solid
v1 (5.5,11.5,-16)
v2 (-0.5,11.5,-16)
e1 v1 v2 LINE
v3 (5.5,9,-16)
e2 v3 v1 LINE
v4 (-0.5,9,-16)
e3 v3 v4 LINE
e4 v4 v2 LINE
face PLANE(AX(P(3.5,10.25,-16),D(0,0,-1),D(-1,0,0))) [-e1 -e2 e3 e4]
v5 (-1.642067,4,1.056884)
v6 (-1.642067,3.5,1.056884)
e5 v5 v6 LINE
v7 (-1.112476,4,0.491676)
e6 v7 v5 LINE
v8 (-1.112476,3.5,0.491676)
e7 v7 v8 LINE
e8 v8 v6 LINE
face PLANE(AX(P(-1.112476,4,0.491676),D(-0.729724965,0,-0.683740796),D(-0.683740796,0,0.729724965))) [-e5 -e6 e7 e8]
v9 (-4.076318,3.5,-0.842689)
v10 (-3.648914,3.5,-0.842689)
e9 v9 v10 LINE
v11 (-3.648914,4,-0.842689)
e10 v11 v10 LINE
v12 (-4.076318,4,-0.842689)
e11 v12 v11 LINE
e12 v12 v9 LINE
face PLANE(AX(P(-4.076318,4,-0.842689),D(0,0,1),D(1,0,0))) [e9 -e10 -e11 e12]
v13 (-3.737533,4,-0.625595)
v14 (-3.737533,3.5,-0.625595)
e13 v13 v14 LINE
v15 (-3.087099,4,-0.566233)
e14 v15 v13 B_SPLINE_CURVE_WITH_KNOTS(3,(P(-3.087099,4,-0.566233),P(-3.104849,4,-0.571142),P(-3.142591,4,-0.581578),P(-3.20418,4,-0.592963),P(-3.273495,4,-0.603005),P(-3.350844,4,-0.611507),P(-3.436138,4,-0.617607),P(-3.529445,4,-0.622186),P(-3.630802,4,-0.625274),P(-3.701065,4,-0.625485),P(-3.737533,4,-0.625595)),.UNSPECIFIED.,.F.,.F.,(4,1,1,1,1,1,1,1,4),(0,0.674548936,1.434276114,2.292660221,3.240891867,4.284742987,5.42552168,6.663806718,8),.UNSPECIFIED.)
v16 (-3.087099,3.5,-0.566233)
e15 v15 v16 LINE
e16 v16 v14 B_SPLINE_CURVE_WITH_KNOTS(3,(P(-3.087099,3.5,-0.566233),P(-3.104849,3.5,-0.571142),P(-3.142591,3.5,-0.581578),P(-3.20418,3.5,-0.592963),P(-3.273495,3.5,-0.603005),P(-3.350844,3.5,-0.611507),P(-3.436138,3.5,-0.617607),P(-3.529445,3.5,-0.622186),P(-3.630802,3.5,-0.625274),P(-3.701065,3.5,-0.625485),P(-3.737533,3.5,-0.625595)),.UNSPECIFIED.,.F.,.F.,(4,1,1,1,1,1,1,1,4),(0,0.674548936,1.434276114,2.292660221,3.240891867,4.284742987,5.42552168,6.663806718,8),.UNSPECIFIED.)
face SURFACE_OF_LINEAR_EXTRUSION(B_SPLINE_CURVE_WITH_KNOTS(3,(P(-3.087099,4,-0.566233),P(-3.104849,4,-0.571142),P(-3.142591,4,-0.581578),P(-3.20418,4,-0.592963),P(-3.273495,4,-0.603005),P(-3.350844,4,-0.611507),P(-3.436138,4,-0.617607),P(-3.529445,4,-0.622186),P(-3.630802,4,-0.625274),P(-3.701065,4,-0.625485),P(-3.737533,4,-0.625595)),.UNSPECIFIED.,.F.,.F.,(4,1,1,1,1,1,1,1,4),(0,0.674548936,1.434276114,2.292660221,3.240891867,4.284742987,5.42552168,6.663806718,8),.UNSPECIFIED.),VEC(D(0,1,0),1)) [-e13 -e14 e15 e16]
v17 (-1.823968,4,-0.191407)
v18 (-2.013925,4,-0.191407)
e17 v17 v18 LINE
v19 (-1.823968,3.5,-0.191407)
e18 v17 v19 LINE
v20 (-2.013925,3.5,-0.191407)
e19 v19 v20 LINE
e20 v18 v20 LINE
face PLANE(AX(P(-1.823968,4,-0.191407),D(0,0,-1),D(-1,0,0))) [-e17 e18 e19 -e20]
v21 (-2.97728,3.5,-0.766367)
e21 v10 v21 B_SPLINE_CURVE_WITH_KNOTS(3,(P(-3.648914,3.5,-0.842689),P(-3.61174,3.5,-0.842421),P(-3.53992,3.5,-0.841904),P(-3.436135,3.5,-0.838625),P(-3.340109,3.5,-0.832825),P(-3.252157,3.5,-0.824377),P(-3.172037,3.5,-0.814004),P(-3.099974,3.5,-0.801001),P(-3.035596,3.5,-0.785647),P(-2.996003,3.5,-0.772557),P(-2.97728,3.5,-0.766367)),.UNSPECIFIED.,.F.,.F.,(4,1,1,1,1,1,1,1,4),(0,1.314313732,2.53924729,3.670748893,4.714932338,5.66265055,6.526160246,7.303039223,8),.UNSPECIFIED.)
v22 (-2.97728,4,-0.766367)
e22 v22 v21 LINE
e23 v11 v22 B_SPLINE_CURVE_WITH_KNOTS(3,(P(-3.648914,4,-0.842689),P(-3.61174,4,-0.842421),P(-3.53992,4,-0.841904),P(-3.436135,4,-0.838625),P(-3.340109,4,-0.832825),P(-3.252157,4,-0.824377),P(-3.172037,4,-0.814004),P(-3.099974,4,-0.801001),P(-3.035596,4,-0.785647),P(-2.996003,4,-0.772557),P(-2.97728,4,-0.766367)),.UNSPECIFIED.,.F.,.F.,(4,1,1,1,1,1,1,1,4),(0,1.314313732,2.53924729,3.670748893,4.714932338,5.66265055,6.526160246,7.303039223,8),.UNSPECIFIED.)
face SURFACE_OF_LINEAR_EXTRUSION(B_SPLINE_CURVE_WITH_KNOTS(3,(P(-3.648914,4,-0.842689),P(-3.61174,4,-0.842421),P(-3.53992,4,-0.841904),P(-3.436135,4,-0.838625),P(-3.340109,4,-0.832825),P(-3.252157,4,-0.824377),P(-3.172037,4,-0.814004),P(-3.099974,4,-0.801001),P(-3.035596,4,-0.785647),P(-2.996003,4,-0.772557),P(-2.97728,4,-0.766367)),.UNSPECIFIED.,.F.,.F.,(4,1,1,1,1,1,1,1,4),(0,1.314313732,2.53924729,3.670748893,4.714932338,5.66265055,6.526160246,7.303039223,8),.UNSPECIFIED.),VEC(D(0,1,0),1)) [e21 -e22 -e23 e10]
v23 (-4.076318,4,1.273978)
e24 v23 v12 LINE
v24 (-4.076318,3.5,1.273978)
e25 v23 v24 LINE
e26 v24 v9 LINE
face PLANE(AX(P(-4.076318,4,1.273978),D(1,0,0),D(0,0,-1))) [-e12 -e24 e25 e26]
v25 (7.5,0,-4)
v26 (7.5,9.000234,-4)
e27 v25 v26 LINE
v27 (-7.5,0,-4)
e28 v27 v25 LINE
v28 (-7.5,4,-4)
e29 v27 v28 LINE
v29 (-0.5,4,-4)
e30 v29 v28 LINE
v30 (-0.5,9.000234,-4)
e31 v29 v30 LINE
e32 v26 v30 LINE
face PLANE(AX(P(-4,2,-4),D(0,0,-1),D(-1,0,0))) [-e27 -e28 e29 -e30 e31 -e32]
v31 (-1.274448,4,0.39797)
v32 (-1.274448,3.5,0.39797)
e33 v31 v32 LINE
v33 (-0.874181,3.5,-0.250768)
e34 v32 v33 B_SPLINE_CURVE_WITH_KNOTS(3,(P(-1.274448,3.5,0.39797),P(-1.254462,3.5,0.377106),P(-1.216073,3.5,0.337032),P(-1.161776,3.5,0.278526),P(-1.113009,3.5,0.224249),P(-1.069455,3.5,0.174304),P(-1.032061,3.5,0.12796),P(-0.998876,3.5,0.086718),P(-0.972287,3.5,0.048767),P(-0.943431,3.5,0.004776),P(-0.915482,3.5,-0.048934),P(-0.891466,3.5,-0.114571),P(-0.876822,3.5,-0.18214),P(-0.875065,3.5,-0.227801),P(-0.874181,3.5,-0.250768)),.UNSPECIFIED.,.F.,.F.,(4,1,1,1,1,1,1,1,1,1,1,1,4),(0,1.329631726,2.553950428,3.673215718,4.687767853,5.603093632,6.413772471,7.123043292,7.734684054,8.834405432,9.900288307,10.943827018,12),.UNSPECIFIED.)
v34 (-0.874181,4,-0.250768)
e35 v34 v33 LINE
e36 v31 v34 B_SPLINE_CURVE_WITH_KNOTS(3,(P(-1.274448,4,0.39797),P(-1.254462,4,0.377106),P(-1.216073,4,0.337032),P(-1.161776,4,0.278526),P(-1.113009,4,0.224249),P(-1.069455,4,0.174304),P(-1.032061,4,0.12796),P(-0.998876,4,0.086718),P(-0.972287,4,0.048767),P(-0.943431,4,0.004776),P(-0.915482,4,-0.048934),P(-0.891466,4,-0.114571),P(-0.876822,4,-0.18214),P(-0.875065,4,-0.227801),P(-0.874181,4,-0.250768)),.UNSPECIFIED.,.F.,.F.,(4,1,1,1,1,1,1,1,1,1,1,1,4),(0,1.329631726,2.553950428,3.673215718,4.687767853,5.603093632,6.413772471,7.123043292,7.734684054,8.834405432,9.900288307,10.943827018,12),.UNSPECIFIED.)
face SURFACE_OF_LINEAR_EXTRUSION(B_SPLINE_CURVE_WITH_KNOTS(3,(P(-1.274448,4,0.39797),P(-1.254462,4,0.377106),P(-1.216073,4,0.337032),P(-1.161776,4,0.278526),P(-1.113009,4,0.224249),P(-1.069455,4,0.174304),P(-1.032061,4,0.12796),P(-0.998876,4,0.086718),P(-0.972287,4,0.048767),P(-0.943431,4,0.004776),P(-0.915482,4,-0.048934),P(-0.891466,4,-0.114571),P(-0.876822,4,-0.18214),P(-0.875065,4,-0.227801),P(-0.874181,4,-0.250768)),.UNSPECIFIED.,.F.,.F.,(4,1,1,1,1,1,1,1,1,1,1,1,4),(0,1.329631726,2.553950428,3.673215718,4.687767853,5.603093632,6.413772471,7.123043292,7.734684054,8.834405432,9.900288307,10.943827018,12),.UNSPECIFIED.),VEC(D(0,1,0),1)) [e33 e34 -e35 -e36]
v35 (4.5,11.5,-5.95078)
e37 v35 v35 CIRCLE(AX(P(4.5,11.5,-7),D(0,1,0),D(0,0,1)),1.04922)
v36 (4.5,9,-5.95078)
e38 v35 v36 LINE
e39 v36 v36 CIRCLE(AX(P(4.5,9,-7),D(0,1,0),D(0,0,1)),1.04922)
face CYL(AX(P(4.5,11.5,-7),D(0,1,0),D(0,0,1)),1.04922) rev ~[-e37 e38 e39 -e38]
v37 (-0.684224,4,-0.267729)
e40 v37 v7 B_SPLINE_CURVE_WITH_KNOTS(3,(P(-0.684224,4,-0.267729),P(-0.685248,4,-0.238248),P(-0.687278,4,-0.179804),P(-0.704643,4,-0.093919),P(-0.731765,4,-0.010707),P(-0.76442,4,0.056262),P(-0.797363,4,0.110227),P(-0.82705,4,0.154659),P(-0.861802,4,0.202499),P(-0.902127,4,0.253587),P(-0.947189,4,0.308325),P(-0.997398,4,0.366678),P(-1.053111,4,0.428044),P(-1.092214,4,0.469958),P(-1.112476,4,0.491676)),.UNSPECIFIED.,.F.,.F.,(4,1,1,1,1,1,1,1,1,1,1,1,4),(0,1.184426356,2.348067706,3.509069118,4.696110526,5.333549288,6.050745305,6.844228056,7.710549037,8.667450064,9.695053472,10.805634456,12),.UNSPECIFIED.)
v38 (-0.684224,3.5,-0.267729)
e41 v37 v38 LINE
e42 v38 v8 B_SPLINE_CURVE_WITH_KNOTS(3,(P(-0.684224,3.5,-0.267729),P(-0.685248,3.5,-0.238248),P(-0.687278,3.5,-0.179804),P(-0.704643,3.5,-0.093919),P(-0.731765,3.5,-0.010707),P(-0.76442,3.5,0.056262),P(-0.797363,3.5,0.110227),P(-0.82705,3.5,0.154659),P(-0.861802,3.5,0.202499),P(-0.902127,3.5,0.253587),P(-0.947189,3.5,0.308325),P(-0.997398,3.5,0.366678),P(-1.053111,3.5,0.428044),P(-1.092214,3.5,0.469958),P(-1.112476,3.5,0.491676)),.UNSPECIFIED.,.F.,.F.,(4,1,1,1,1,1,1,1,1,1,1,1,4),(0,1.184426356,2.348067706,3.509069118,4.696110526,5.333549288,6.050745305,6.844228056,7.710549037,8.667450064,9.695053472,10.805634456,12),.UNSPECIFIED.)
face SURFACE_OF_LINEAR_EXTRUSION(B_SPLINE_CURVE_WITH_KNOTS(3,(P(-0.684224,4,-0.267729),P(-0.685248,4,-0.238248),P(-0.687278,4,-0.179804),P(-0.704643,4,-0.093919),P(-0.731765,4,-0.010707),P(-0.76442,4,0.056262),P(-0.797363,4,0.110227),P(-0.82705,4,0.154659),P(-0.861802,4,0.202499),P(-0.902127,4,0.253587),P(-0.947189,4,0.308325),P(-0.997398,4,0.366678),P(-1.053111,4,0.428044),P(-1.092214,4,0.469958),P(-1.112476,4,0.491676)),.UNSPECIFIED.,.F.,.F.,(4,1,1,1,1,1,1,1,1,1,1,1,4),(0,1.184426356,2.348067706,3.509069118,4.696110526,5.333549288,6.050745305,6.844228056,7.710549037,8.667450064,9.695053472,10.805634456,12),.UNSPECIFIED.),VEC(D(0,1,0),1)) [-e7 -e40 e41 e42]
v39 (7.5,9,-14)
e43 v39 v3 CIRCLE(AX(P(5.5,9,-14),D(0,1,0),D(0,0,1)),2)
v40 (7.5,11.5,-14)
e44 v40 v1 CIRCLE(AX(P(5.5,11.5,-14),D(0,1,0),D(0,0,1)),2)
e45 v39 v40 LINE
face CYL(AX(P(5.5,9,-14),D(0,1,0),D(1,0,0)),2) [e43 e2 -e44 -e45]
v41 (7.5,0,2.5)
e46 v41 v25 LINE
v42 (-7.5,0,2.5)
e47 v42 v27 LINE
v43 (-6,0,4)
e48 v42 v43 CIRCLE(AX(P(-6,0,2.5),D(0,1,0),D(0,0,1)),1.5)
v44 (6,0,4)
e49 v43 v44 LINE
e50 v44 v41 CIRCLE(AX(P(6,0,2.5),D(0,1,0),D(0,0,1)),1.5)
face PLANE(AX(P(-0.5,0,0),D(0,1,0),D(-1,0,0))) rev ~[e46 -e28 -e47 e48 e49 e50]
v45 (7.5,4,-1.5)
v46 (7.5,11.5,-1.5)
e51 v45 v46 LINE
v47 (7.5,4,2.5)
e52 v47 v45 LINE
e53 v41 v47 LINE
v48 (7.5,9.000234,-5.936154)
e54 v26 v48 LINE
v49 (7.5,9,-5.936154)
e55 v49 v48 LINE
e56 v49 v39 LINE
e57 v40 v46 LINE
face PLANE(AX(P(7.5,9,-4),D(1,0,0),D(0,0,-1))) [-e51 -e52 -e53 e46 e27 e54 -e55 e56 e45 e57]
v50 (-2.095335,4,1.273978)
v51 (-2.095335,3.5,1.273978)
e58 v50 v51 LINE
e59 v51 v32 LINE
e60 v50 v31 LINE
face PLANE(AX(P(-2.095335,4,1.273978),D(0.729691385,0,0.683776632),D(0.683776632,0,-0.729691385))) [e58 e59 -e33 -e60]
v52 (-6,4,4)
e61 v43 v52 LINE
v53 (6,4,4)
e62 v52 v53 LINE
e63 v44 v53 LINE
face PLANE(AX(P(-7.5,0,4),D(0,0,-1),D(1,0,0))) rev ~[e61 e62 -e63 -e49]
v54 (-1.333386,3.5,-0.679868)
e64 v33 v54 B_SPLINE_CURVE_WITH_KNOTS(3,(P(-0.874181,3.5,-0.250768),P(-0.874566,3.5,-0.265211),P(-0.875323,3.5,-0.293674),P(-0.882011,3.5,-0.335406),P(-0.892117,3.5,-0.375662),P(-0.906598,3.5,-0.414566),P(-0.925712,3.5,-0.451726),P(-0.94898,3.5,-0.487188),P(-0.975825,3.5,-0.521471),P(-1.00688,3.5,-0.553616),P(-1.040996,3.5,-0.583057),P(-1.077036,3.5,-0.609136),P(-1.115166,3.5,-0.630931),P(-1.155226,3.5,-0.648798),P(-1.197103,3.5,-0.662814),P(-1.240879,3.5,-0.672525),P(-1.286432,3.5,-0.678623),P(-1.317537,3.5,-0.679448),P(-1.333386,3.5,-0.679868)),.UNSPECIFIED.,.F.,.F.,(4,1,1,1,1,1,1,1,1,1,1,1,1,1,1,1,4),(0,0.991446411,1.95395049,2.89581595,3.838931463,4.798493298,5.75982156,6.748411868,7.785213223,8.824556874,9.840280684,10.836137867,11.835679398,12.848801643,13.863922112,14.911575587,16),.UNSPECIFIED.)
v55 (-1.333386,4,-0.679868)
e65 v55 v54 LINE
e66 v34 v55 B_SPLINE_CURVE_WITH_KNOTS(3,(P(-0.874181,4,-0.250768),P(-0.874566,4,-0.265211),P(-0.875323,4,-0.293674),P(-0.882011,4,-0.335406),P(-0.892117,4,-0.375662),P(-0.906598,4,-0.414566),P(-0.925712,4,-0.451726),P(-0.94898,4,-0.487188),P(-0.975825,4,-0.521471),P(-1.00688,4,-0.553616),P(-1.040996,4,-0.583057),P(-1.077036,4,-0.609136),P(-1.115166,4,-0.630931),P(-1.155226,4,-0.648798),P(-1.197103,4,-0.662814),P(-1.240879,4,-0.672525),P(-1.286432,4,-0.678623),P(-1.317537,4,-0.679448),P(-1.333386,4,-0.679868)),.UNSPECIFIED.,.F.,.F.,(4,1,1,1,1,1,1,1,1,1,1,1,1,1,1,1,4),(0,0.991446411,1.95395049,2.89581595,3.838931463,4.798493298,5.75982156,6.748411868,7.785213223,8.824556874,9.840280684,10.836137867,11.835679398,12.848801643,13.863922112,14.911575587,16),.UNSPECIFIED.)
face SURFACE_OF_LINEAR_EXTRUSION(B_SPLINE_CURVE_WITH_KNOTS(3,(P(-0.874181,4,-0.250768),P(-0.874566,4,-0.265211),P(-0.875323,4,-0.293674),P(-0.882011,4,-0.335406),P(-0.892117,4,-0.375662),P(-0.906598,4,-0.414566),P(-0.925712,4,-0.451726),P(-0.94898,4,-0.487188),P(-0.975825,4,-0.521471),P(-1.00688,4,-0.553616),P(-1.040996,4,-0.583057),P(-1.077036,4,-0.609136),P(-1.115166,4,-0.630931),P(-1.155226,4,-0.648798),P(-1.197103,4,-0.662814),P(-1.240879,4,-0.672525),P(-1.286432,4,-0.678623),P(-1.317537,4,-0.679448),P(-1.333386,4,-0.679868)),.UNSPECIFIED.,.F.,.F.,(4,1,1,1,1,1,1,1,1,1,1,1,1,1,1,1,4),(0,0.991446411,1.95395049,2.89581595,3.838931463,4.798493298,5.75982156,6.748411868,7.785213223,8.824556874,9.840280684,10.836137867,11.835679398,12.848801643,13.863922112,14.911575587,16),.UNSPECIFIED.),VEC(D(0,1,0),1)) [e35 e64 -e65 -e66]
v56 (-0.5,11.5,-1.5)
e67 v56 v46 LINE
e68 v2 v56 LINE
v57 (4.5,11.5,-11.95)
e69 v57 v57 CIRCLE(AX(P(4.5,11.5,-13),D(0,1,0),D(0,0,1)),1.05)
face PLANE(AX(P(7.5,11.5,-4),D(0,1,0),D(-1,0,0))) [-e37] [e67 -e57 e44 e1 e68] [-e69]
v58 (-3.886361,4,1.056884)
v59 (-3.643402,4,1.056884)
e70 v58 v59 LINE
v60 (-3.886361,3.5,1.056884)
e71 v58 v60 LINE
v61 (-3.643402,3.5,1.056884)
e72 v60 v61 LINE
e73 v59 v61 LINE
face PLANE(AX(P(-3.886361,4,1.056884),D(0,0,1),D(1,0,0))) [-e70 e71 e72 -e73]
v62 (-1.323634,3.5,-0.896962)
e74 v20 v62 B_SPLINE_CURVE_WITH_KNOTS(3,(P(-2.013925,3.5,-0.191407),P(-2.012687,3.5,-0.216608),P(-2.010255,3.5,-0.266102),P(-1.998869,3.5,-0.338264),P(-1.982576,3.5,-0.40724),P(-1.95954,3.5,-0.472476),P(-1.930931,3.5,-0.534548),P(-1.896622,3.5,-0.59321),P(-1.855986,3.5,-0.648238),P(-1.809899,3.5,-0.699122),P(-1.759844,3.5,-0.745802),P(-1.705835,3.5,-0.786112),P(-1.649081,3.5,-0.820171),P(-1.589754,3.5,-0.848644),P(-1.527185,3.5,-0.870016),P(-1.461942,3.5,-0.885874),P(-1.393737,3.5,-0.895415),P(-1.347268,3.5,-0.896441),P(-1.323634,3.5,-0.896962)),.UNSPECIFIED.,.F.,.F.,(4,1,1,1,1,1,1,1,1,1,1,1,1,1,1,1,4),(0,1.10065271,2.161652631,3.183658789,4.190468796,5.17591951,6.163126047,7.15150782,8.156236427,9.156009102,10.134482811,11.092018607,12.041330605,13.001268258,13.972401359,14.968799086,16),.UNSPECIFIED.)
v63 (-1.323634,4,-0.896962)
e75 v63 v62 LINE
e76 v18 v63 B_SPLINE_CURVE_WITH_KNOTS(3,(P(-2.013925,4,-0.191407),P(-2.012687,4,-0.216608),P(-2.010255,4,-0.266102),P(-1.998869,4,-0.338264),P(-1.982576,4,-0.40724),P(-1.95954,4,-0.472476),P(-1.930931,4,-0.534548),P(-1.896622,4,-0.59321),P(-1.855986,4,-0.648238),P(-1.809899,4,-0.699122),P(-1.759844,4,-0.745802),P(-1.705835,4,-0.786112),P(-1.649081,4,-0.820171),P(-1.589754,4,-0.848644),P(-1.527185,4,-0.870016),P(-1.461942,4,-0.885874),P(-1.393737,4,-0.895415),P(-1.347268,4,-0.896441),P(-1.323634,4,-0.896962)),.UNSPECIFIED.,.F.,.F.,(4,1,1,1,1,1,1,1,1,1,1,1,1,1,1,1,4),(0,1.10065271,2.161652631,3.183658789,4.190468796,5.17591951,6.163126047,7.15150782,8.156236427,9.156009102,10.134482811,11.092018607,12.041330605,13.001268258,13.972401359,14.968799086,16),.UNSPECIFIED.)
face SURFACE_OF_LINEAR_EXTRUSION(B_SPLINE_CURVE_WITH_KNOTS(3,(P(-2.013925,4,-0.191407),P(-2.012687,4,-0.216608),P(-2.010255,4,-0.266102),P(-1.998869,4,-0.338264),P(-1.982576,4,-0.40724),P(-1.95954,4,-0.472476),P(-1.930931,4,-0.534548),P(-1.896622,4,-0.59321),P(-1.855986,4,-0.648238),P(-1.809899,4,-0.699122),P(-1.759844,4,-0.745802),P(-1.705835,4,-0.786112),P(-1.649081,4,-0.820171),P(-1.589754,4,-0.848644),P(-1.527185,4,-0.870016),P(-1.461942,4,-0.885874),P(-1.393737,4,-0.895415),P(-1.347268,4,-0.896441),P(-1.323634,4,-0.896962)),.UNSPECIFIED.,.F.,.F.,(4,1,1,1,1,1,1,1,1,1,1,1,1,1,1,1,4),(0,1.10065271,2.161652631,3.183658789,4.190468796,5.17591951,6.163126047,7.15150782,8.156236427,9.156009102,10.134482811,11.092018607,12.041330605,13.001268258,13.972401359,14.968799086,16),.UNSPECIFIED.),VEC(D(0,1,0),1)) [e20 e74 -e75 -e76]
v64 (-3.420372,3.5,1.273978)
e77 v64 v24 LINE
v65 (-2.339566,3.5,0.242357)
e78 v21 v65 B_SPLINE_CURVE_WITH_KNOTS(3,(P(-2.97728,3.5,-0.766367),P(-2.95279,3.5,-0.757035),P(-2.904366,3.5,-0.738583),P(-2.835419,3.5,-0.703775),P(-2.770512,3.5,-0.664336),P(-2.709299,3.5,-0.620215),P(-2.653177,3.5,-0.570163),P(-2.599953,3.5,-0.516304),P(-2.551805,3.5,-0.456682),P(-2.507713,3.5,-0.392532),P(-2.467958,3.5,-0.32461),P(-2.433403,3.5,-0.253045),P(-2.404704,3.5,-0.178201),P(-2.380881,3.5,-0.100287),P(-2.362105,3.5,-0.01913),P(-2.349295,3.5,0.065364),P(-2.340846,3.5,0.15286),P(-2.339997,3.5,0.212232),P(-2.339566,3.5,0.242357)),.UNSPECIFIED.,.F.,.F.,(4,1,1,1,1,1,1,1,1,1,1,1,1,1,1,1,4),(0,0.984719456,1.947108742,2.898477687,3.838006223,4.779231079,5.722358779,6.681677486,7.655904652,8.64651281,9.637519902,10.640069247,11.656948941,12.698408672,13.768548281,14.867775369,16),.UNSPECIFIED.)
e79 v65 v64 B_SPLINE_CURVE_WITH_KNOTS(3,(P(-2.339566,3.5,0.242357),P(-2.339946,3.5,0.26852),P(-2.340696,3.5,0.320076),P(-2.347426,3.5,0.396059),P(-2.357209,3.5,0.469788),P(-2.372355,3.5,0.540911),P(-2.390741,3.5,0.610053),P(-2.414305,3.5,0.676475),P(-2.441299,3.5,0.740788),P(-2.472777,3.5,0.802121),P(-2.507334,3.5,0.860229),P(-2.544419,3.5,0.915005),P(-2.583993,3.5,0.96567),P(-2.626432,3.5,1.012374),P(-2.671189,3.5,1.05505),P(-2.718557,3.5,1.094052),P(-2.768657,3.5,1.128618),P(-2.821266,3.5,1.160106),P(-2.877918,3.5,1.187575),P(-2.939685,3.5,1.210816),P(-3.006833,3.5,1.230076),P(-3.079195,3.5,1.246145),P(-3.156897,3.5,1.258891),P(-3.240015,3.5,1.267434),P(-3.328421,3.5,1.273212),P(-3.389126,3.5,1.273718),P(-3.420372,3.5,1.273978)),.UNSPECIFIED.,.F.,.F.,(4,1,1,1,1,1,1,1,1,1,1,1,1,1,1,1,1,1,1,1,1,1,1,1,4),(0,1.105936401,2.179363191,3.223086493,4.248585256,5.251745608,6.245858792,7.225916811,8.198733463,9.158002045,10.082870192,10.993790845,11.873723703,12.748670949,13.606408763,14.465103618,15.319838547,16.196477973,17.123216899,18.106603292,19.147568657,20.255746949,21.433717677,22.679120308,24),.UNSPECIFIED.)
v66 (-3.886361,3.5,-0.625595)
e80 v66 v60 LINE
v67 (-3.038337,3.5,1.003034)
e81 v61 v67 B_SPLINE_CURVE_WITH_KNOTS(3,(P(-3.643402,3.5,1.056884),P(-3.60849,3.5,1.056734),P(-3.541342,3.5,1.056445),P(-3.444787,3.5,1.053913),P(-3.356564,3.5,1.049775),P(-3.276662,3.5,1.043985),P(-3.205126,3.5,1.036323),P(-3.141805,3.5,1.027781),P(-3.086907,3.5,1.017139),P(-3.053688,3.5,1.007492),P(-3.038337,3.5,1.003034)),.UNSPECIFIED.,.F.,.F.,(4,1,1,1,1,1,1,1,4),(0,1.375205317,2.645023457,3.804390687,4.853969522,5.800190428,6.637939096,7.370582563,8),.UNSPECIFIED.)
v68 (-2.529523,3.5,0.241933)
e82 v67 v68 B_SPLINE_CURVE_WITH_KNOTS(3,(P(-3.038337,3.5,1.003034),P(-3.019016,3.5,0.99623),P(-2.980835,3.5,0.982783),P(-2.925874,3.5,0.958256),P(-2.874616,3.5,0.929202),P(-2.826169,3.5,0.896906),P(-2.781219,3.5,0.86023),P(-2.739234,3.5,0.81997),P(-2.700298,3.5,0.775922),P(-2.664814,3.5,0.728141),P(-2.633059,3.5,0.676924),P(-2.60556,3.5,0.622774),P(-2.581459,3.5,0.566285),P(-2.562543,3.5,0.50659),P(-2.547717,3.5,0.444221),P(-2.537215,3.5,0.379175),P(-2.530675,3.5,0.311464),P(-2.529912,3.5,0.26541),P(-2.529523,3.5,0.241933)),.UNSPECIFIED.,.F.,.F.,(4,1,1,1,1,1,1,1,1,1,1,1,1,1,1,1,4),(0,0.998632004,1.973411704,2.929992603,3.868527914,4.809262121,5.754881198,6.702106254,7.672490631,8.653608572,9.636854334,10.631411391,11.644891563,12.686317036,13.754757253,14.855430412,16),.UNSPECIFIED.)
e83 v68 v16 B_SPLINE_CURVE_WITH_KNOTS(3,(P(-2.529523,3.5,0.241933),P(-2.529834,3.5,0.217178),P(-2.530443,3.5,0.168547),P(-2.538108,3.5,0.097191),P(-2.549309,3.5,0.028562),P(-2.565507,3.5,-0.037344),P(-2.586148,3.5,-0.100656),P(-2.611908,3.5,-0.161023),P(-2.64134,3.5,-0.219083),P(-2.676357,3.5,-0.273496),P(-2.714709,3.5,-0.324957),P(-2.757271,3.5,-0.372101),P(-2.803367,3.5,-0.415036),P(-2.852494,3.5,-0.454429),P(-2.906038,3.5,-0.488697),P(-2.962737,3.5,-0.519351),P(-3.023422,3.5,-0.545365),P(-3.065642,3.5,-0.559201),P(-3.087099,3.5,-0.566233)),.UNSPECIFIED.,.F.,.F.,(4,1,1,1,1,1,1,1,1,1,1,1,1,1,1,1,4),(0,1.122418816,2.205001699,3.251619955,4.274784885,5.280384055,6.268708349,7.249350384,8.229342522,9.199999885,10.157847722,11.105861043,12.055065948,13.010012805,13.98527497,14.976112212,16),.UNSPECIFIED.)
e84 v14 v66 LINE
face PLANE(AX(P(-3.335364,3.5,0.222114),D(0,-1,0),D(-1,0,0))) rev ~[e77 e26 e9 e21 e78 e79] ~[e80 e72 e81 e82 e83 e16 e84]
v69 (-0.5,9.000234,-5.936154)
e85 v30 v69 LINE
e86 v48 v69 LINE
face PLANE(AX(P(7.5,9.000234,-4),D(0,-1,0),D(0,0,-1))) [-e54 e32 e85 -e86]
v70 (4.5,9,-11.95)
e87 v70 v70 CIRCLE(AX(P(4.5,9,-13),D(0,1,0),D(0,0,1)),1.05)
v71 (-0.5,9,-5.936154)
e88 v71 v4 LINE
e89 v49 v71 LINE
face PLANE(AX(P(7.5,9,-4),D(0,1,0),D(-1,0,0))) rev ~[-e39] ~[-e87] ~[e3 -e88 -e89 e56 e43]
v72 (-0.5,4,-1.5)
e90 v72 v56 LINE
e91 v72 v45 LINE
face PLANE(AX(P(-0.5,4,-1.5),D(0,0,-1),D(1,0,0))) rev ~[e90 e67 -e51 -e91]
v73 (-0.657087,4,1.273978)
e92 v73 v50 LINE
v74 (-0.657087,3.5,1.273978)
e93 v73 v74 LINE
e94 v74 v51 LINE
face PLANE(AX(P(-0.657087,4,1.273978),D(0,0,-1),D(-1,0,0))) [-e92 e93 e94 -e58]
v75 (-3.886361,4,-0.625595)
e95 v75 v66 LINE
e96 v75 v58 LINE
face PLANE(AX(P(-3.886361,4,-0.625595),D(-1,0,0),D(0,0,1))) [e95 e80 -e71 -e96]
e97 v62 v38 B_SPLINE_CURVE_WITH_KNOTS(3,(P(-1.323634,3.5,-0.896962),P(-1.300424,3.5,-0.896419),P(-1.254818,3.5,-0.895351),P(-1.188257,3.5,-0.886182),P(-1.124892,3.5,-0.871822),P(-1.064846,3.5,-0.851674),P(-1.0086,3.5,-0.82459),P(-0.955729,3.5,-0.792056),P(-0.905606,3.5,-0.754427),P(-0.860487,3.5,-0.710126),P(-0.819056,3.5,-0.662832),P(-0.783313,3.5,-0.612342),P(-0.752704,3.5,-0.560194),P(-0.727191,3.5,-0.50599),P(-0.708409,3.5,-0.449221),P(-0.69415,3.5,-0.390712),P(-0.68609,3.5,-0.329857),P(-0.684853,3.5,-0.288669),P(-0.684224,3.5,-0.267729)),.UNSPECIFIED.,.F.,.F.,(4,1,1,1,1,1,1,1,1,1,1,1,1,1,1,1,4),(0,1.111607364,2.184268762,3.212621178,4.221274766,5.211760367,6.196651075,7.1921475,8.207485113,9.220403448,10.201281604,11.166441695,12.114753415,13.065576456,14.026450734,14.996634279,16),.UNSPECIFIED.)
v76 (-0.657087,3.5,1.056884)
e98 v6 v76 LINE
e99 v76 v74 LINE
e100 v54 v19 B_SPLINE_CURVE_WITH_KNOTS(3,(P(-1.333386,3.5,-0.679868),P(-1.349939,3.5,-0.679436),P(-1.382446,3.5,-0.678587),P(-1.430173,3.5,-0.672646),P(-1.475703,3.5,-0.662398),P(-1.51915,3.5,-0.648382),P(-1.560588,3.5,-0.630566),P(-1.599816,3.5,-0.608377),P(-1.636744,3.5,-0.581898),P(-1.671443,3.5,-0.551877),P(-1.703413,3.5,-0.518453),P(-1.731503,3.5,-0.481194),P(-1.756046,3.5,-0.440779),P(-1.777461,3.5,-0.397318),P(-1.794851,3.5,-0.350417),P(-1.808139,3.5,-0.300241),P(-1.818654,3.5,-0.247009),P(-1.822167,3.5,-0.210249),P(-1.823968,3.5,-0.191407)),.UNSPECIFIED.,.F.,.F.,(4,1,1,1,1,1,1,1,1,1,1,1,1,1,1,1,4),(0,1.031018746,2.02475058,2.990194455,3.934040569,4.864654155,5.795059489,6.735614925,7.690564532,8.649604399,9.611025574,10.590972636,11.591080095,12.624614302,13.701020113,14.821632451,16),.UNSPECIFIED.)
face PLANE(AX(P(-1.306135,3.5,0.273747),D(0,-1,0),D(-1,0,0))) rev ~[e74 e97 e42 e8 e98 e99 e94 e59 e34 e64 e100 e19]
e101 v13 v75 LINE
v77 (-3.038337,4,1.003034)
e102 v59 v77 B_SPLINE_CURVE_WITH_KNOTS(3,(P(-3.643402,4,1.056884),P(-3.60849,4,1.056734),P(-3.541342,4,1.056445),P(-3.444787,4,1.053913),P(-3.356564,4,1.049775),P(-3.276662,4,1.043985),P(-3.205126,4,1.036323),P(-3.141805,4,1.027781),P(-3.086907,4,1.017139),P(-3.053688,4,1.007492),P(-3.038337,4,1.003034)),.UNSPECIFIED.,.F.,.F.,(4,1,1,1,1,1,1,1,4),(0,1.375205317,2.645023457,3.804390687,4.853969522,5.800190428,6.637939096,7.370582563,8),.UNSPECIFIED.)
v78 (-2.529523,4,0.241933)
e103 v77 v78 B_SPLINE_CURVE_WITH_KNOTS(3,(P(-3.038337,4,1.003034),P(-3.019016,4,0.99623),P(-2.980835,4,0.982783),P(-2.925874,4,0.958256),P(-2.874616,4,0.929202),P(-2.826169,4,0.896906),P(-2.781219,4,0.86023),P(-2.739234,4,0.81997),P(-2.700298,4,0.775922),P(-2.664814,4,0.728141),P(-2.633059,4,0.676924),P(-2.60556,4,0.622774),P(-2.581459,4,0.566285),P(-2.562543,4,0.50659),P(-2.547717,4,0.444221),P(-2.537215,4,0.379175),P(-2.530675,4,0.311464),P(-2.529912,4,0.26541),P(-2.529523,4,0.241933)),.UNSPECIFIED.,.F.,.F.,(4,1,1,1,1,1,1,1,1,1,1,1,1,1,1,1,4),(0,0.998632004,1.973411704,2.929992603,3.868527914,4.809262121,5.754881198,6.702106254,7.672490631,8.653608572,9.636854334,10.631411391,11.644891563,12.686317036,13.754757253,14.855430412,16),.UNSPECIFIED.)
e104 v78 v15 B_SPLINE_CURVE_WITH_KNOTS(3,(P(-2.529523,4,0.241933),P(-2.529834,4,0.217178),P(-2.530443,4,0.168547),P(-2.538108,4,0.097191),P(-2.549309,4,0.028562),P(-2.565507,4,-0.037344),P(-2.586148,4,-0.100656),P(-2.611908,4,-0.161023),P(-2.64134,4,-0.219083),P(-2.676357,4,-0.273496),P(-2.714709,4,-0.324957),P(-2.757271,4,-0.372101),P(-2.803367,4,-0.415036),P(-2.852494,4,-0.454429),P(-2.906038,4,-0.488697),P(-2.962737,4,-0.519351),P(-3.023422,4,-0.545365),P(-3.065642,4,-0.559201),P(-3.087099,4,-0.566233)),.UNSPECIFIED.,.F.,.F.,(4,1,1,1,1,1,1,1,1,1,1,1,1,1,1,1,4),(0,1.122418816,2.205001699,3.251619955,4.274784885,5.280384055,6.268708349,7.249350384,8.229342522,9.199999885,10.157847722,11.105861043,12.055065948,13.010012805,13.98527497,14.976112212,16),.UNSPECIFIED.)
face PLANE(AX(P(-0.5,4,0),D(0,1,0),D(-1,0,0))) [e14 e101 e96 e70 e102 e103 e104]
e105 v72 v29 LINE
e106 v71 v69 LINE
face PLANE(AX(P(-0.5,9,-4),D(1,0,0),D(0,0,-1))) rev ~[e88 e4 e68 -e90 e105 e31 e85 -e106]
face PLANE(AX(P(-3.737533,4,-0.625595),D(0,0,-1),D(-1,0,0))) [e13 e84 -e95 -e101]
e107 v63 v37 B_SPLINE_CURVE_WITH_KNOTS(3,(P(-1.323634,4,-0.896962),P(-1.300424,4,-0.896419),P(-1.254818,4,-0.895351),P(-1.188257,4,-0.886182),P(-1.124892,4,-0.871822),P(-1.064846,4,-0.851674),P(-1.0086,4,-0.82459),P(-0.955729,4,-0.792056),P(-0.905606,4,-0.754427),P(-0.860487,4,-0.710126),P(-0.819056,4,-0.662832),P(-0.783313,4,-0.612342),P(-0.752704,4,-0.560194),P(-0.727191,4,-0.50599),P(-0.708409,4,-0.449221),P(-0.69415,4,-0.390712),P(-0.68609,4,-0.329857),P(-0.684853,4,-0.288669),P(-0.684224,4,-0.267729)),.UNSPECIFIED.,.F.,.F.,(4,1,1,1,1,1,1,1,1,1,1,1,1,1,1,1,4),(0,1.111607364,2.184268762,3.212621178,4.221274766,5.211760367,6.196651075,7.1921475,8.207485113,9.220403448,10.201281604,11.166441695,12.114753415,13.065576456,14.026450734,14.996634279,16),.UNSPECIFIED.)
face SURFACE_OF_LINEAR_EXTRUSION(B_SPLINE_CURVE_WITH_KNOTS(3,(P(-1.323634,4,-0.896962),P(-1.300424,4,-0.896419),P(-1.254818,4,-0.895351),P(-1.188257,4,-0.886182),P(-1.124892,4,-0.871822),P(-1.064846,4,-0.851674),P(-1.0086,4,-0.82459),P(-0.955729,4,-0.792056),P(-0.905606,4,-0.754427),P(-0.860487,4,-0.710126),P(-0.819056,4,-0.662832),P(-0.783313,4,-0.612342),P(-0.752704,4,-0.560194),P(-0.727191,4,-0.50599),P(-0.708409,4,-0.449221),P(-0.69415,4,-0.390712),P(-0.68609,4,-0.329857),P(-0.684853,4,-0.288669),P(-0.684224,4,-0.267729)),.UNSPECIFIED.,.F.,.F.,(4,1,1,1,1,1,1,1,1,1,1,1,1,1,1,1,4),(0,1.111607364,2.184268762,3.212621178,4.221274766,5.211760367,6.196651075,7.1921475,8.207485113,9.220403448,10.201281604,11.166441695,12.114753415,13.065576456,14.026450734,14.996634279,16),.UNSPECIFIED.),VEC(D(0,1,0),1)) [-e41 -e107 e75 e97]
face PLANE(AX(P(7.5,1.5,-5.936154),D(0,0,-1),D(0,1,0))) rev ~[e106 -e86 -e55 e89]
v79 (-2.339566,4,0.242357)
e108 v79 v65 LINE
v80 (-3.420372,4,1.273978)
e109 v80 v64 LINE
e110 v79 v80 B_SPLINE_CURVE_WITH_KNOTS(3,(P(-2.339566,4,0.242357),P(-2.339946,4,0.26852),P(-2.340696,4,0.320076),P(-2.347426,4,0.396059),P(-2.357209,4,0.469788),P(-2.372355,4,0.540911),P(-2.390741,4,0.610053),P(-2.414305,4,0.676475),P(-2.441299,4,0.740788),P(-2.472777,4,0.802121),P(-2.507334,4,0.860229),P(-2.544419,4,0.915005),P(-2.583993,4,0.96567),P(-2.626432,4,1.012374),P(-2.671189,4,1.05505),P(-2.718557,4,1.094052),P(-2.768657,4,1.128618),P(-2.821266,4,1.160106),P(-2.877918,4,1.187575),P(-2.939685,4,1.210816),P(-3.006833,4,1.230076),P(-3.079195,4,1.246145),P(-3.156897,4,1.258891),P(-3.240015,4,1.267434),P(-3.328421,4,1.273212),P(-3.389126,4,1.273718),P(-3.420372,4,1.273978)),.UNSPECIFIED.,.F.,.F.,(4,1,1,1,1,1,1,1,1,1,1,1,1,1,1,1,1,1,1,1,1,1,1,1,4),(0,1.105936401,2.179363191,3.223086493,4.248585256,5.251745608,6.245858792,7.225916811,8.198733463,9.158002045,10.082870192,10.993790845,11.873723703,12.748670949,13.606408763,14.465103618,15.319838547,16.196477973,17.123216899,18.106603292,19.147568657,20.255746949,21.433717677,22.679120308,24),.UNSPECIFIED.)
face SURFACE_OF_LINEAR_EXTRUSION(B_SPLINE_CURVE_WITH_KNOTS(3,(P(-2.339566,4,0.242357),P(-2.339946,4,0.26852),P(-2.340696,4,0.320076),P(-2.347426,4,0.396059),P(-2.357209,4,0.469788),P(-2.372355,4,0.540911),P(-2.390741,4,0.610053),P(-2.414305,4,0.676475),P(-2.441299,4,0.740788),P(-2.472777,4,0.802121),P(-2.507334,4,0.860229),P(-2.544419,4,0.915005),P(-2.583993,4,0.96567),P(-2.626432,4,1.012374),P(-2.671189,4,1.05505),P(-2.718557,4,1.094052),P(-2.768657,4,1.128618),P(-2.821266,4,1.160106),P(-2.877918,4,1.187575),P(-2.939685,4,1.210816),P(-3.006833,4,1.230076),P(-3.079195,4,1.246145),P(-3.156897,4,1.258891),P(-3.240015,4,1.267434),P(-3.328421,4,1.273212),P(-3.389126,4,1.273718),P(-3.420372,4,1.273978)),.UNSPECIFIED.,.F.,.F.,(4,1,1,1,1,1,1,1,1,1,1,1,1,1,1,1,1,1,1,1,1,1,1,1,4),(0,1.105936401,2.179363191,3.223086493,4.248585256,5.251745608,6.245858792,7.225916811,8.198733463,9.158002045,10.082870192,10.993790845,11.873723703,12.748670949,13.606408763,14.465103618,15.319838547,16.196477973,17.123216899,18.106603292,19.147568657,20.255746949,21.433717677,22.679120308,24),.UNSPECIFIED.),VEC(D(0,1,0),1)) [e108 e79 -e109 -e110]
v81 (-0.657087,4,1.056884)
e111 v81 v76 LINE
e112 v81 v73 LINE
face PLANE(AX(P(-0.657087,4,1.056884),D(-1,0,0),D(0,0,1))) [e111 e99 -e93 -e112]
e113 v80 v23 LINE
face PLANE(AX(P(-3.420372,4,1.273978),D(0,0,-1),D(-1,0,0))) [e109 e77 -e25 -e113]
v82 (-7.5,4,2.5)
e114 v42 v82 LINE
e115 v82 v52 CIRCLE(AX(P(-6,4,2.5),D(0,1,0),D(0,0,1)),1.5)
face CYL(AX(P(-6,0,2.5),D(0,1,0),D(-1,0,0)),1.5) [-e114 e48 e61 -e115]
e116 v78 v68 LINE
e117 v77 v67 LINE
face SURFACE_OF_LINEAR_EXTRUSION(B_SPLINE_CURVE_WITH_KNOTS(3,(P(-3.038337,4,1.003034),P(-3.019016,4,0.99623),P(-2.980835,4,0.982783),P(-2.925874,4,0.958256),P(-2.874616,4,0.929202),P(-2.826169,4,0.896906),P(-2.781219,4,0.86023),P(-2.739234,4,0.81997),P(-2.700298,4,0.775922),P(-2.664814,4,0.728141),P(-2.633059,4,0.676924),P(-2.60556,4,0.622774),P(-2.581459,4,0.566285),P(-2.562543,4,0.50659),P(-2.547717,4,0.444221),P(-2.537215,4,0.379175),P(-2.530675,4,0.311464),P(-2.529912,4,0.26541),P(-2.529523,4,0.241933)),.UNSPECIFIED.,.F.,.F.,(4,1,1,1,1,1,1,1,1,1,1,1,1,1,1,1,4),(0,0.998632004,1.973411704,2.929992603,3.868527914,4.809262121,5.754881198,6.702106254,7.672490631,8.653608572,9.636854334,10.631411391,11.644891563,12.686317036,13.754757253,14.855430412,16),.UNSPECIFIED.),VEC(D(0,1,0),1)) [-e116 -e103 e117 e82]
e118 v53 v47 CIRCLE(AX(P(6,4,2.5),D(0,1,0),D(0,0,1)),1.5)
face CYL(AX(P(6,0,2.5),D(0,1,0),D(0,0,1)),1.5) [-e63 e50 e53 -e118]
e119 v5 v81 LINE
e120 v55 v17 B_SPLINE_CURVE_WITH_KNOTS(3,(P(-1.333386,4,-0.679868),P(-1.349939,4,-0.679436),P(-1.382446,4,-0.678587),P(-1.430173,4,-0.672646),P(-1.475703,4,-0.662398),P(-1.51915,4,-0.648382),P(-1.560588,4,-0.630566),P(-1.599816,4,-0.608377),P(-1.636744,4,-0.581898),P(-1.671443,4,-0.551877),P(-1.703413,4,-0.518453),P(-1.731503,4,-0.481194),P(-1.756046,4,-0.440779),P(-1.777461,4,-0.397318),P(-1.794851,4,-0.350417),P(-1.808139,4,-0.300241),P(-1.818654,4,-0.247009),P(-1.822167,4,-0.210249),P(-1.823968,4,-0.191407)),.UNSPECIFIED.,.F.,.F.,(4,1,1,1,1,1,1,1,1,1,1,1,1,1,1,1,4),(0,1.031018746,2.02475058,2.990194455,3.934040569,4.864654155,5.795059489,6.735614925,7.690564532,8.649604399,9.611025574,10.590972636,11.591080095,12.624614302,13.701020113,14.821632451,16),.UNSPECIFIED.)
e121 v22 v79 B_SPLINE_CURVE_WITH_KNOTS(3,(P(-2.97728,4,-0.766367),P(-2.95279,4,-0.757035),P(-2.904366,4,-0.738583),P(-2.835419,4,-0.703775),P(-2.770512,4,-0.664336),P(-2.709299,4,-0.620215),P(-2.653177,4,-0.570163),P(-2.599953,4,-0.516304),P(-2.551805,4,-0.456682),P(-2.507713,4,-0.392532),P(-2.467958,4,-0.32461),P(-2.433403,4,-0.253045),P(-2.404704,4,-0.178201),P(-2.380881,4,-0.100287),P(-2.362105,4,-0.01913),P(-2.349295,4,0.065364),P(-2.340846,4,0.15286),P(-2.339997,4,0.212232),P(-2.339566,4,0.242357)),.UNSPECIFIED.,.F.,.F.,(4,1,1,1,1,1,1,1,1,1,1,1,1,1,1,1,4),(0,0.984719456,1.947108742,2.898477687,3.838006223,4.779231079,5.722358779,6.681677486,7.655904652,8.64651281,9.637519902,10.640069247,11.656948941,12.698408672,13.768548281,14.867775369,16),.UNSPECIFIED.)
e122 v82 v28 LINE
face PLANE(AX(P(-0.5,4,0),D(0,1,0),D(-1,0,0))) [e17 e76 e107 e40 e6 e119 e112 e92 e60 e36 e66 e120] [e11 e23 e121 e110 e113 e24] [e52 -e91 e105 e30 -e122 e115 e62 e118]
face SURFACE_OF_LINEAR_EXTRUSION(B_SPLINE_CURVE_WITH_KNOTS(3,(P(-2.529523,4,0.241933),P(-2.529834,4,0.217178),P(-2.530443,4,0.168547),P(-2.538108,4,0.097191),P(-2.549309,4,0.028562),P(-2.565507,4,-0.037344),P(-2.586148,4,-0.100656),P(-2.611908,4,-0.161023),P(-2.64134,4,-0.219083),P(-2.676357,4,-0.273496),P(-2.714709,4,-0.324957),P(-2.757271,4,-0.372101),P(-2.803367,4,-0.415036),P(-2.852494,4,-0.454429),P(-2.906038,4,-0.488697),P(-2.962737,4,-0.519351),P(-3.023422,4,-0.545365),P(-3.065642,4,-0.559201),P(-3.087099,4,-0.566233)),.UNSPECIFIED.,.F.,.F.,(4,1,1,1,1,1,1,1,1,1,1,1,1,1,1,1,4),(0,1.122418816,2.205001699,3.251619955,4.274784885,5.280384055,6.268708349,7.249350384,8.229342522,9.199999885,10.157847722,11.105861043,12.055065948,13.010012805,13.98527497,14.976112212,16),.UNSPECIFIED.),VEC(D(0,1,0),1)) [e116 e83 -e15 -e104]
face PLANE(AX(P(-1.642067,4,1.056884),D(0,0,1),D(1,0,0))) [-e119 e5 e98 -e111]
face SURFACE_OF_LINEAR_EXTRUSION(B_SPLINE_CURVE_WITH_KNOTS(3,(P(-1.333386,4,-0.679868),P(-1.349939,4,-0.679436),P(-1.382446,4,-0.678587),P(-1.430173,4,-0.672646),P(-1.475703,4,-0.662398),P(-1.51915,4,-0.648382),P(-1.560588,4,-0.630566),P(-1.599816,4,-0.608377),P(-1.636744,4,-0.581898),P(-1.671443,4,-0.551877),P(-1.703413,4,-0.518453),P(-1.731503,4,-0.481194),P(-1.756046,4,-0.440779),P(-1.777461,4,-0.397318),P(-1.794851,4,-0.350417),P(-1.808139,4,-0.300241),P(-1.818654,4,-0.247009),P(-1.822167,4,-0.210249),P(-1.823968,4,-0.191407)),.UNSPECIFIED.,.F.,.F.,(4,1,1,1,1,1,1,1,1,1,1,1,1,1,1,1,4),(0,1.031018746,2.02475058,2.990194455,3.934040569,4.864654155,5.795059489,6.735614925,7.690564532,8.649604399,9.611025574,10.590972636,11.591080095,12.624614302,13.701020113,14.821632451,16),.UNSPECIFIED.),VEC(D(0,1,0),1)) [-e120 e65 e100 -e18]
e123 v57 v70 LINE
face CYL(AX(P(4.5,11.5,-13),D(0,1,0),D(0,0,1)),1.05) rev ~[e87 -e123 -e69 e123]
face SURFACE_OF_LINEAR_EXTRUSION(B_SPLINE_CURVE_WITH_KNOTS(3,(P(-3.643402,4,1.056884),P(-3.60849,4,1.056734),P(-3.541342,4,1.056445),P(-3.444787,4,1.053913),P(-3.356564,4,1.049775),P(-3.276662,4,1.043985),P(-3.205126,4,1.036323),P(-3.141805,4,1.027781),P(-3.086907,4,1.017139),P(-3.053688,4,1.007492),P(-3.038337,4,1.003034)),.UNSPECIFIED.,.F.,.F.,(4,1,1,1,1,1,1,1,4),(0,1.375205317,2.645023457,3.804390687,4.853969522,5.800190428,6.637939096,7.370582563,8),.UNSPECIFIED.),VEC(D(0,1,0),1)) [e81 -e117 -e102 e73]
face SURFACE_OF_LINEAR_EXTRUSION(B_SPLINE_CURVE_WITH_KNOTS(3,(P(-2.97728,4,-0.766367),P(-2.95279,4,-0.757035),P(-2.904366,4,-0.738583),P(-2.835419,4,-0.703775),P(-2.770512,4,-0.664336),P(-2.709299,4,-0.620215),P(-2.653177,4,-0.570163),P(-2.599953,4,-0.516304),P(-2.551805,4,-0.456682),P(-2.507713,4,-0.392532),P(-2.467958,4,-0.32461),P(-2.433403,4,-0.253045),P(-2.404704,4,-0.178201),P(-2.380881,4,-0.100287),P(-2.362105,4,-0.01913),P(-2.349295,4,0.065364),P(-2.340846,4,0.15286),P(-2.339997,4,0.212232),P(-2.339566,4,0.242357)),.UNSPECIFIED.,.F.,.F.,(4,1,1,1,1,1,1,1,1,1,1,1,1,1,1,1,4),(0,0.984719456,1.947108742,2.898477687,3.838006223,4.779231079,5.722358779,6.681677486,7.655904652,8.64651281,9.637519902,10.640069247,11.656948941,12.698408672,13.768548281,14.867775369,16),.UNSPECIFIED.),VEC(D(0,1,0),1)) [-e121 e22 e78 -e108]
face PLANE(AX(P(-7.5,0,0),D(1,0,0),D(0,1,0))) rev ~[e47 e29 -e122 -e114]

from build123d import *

# Parameters (mm, degrees)
SKETCH1_W           = 15
SKETCH1_H           = 8
BOSS_EXTRUDE1_DEPTH = 4
FILLET1_R           = 1.5
SKETCH10_W          = 7
SKETCH10_H          = 4
CUT_EXTRUDE2_DEPTH  = 7.5
SKETCH11_W          = 8
SKETCH11_H          = 2.5
BOSS_EXTRUDE4_DEPTH = 7.5
SKETCH12_W          = 8
SKETCH12_H          = 2.5
BOSS_EXTRUDE5_DEPTH = 12
FILLET2_R           = 2
SKETCH13_R          = 1.05
SKETCH13_R_2        = 1.049219919
CUT_EXTRUDE3_DEPTH  = 12
SKETCH14_W          = 8
SKETCH14_H          = 1.936154072
BOSS_EXTRUDE6_DEPTH = 7.5
SKETCH16_W          = 7
SKETCH16_H          = 4
BOSS_EXTRUDE7_DEPTH = 4
SKETCH17_W          = 1.936154072
SKETCH17_H          = 7.50023418
CUT_EXTRUDE4_DEPTH  = 8
CUT_EXTRUDE5_DEPTH  = 0.5


with BuildPart() as part:
    # Sketch1 → Boss-Extrude1 (new body)
    with BuildSketch(Plane(origin=(0, 0, 0), x_dir=(1, 0, 0), z_dir=(0, 1, 0))):
        Rectangle(SKETCH1_W, SKETCH1_H)
    extrude(amount=BOSS_EXTRUDE1_DEPTH)

    # Fillet1
    fillet1_edges = [part.edges().sort_by_distance(p)[0] for p in [
        (7.5, 2, 4),
        (-7.5, 2, 4),
    ]]
    fillet(fillet1_edges, radius=FILLET1_R)

    # Sketch10 → Cut-Extrude2 (cut)
    with BuildSketch(Plane(origin=(0, 4, 0), x_dir=(1, 0, 0), z_dir=(0, 1, 0))):
        with Locations((-4, 2)):
            Rectangle(SKETCH10_W, SKETCH10_H)
    extrude(amount=-CUT_EXTRUDE2_DEPTH, mode=Mode.SUBTRACT)

    # Sketch11 → Boss-Extrude4 (add)
    with BuildSketch(Plane(origin=(0, 4, 0), x_dir=(1, 0, 0), z_dir=(0, 1, 0))):
        with Locations((3.5, 2.75)):
            Rectangle(SKETCH11_W, SKETCH11_H)
    extrude(amount=BOSS_EXTRUDE4_DEPTH)

    # Sketch12 → Boss-Extrude5 (add)
    with BuildSketch(Plane(origin=(0, 0, -4), x_dir=(-1, 0, 0), z_dir=(0, 0, -1))):
        with Locations((-3.5, 10.25)):
            Rectangle(SKETCH12_W, SKETCH12_H)
    extrude(amount=BOSS_EXTRUDE5_DEPTH)

    # Fillet2
    fillet2_edges = [part.edges().sort_by_distance(p)[0] for p in [
        (7.5, 10.25, -16),
    ]]
    fillet(fillet2_edges, radius=FILLET2_R)

    # Sketch13 → Cut-Extrude3 (cut)
    with BuildSketch(Plane(origin=(0, 11.5, 0), x_dir=(1, 0, 0), z_dir=(0, 1, 0))):
        with Locations(Location((4.5, 13, 0), (0, 0, 270))):
            Circle(SKETCH13_R)
        with Locations(Location((4.5, 7, 0), (0, 0, 270))):
            Circle(SKETCH13_R_2)
    extrude(amount=-CUT_EXTRUDE3_DEPTH, mode=Mode.SUBTRACT)

    # Sketch14 → Boss-Extrude6 (add)
    with BuildSketch(Plane(origin=(0, 9, 0), x_dir=(-1, 0, 0), z_dir=(0, -1, 0))):
        with Locations((-3.5, 4.968077036)):
            Rectangle(SKETCH14_W, SKETCH14_H)
    extrude(amount=BOSS_EXTRUDE6_DEPTH)

    # Sketch16 → Boss-Extrude7 (add)
    with BuildSketch(Plane(origin=(0, 0, 0), x_dir=(-1, 0, 0), z_dir=(0, 0, -1))):
        with Locations((4, 2)):
            Rectangle(SKETCH16_W, SKETCH16_H)
    extrude(amount=BOSS_EXTRUDE7_DEPTH)

    # Sketch17 → Cut-Extrude4 (cut)
    with BuildSketch(Plane(origin=(7.5, 0, 0), x_dir=(0, 0, -1), z_dir=(1, 0, 0))):
        with Locations((4.968077036, 5.25011709)):
            Rectangle(SKETCH17_W, SKETCH17_H)
    extrude(amount=-CUT_EXTRUDE4_DEPTH, mode=Mode.SUBTRACT)

    # Sketch19 → Cut-Extrude5 (cut)
    # profile 1 of 2: a face of its own
    with BuildSketch(Plane(origin=(0, 4, 0), x_dir=(1, 0, 0), z_dir=(0, 1, 0))):
        with BuildLine():
            Line((-4.076318052, -1.273977892), (-4.076318052, 0.842688775))
            Line((-4.076318052, 0.842688775), (-3.648914206, 0.842688775))
            add(Edge.make_bspline(
                [(-3.648914206, 0.842688775), (-3.611740103, 0.842421125), (-3.539919931, 0.841904028), (-3.43613526, 0.838625377), (-3.34010889, 0.832825428), (-3.252156637, 0.824377191), (-3.172037047, 0.81400369), (-3.09997446, 0.801001064), (-3.035596259, 0.785647266), (-2.996002835, 0.772556922), (-2.97727959, 0.766366659)],
                knots=[0, 0, 0, 0, 1.314313732, 2.53924729, 3.670748893, 4.714932338, 5.66265055, 6.526160246, 7.303039223, 8, 8, 8, 8], degree=3))
            add(Edge.make_bspline(
                [(-2.97727959, 0.766366659), (-2.952789915, 0.757034756), (-2.904365908, 0.738582567), (-2.835418743, 0.703774708), (-2.770512452, 0.664336309), (-2.709298969, 0.620215382), (-2.653176565, 0.570162657), (-2.599952742, 0.516304325), (-2.55180479, 0.456681852), (-2.50771263, 0.39253174), (-2.467958207, 0.32460969), (-2.433402621, 0.253045124), (-2.404704254, 0.178201479), (-2.380880731, 0.10028689), (-2.362105016, 0.019130033), (-2.349294991, -0.065363591), (-2.340845868, -0.152860053), (-2.339996751, -0.212232229), (-2.339565915, -0.242357299)],
                knots=[0, 0, 0, 0, 0.984719456, 1.947108742, 2.898477687, 3.838006223, 4.779231079, 5.722358779, 6.681677486, 7.655904652, 8.64651281, 9.637519902, 10.640069247, 11.656948941, 12.698408672, 13.768548281, 14.867775369, 16, 16, 16, 16], degree=3))
            add(Edge.make_bspline(
                [(-2.339565915, -0.242357299), (-2.339946291, -0.268520048), (-2.34069586, -0.320076478), (-2.347426447, -0.396059305), (-2.357209269, -0.469787989), (-2.372355046, -0.540911436), (-2.390741327, -0.610052787), (-2.414305362, -0.676475144), (-2.441299209, -0.740787829), (-2.472776993, -0.802121255), (-2.507333926, -0.860228818), (-2.54441898, -0.915005447), (-2.583992601, -0.965669509), (-2.62643215, -1.012374432), (-2.671189198, -1.055049806), (-2.718556769, -1.09405212), (-2.76865709, -1.128618227), (-2.821265765, -1.16010643), (-2.87791752, -1.187574931), (-2.939685401, -1.210815937), (-3.006832827, -1.230075557), (-3.079194982, -1.246144622), (-3.156896895, -1.258891372), (-3.240014746, -1.267434476), (-3.328420831, -1.273211726), (-3.389126386, -1.273717544), (-3.420371871, -1.273977892)],
                knots=[0, 0, 0, 0, 1.105936401, 2.179363191, 3.223086493, 4.248585256, 5.251745608, 6.245858792, 7.225916811, 8.198733463, 9.158002045, 10.082870192, 10.993790845, 11.873723703, 12.748670949, 13.606408763, 14.465103618, 15.319838547, 16.196477973, 17.123216899, 18.106603292, 19.147568657, 20.255746949, 21.433717677, 22.679120308, 24, 24, 24, 24], degree=3))
            Line((-3.420371871, -1.273977892), (-4.076318052, -1.273977892))
        make_face()
        with BuildLine():
            Line((-3.886360787, -1.056883875), (-3.643402053, -1.056883875))
            add(Edge.make_bspline(
                [(-3.643402053, -1.056883875), (-3.608490133, -1.056733836), (-3.541341727, -1.056445255), (-3.444786652, -1.053912994), (-3.35656435, -1.049775251), (-3.276662295, -1.043984609), (-3.205125599, -1.036323113), (-3.14180476, -1.02778091), (-3.086907342, -1.017138642), (-3.053688111, -1.00749211), (-3.038337282, -1.003034383)],
                knots=[0, 0, 0, 0, 1.375205317, 2.645023457, 3.804390687, 4.853969522, 5.800190428, 6.637939096, 7.370582563, 8, 8, 8, 8], degree=3))
            add(Edge.make_bspline(
                [(-3.038337282, -1.003034383), (-3.01901613, -0.996229869), (-2.980835311, -0.982783367), (-2.925873893, -0.958255638), (-2.874616085, -0.929201625), (-2.826168594, -0.896905964), (-2.781218664, -0.860229572), (-2.739233603, -0.819969974), (-2.700297942, -0.775922277), (-2.664813956, -0.728141151), (-2.633058934, -0.676923988), (-2.605559667, -0.622774313), (-2.581458979, -0.566285432), (-2.562542877, -0.506589894), (-2.547716786, -0.444221368), (-2.537215284, -0.379175467), (-2.530674951, -0.31146434), (-2.529912075, -0.265410436), (-2.52952318, -0.241933287)],
                knots=[0, 0, 0, 0, 0.998632004, 1.973411704, 2.929992603, 3.868527914, 4.809262121, 5.754881198, 6.702106254, 7.672490631, 8.653608572, 9.636854334, 10.631411391, 11.644891563, 12.686317036, 13.754757253, 14.855430412, 16, 16, 16, 16], degree=3))
            add(Edge.make_bspline(
                [(-2.52952318, -0.241933287), (-2.529833597, -0.217178278), (-2.530443413, -0.168546843), (-2.538108353, -0.097190565), (-2.549309484, -0.028561791), (-2.565507237, 0.03734407), (-2.586148292, 0.100655598), (-2.611907909, 0.161022635), (-2.641339626, 0.219082722), (-2.676357359, 0.273495791), (-2.714708694, 0.324956862), (-2.757270554, 0.372101025), (-2.803366739, 0.415035673), (-2.852494482, 0.454429448), (-2.906038346, 0.488697481), (-2.962737007, 0.519350854), (-3.023422246, 0.545365227), (-3.065642305, 0.559201491), (-3.087098634, 0.566233112)],
                knots=[0, 0, 0, 0, 1.122418816, 2.205001699, 3.251619955, 4.274784885, 5.280384055, 6.268708349, 7.249350384, 8.229342522, 9.199999885, 10.157847722, 11.105861043, 12.055065948, 13.010012805, 13.98527497, 14.976112212, 16, 16, 16, 16], degree=3))
            add(Edge.make_bspline(
                [(-3.087098634, 0.566233112), (-3.104849089, 0.571141618), (-3.142591427, 0.58157845), (-3.204180055, 0.592963318), (-3.273494931, 0.603005086), (-3.350843798, 0.611506853), (-3.436138485, 0.617607281), (-3.529444592, 0.622186123), (-3.630802448, 0.62527442), (-3.701065219, 0.625485305), (-3.737532662, 0.625594757)],
                knots=[0, 0, 0, 0, 0.674548936, 1.434276114, 2.292660221, 3.240891867, 4.284742987, 5.42552168, 6.663806718, 8, 8, 8, 8], degree=3))
            Line((-3.737532662, 0.625594757), (-3.886360787, 0.625594757))
            Line((-3.886360787, 0.625594757), (-3.886360787, -1.056883875))
        make_face(mode=Mode.SUBTRACT)
    # profile 2 of 2: a face of its own
    with BuildSketch(Plane(origin=(0, 4, 0), x_dir=(1, 0, 0), z_dir=(0, 1, 0))):
        with BuildLine():
            Line((-1.823967624, 0.191406723), (-2.013924889, 0.191406723))
            add(Edge.make_bspline(
                [(-2.013924889, 0.191406723), (-2.012686849, 0.216607689), (-2.010255371, 0.266101714), (-1.998868739, 0.338264267), (-1.982575923, 0.407240264), (-1.959539663, 0.472475879), (-1.930930628, 0.53454792), (-1.896622469, 0.593209834), (-1.855986188, 0.648237838), (-1.809899258, 0.699121806), (-1.759843938, 0.745801908), (-1.705835108, 0.78611246), (-1.649081211, 0.820171242), (-1.589754431, 0.848644183), (-1.527185424, 0.870016376), (-1.461941981, 0.885874224), (-1.393737456, 0.895415157), (-1.347267538, 0.896440704), (-1.323633757, 0.896962279)],
                knots=[0, 0, 0, 0, 1.10065271, 2.161652631, 3.183658789, 4.190468796, 5.17591951, 6.163126047, 7.15150782, 8.156236427, 9.156009102, 10.134482811, 11.092018607, 12.041330605, 13.001268258, 13.972401359, 14.968799086, 16, 16, 16, 16], degree=3))
            add(Edge.make_bspline(
                [(-1.323633757, 0.896962279), (-1.30042416, 0.896418927), (-1.25481813, 0.895351259), (-1.188256817, 0.886182446), (-1.124891501, 0.871822017), (-1.064846042, 0.851674122), (-1.008599517, 0.824590206), (-0.95572939, 0.792055504), (-0.905606233, 0.754427321), (-0.860486893, 0.710126205), (-0.819055816, 0.662832382), (-0.783313024, 0.612342078), (-0.75270411, 0.560193891), (-0.727190609, 0.505990169), (-0.708409039, 0.449220547), (-0.694149837, 0.390711525), (-0.686089925, 0.329857472), (-0.684852931, 0.288669222), (-0.684224035, 0.267728839)],
                knots=[0, 0, 0, 0, 1.111607364, 2.184268762, 3.212621178, 4.221274766, 5.211760367, 6.196651075, 7.1921475, 8.207485113, 9.220403448, 10.201281604, 11.166441695, 12.114753415, 13.065576456, 14.026450734, 14.996634279, 16, 16, 16, 16], degree=3))
            add(Edge.make_bspline(
                [(-0.684224035, 0.267728839), (-0.685248055, 0.238248005), (-0.687278127, 0.179803686), (-0.704643488, 0.093918507), (-0.73176495, 0.010707249), (-0.764420494, -0.056262453), (-0.797363353, -0.110227471), (-0.827049608, -0.154658545), (-0.861802136, -0.202498519), (-0.902126752, -0.253587194), (-0.947189298, -0.308324741), (-0.99739794, -0.366678094), (-1.053110712, -0.428044355), (-1.09221371, -0.469957742), (-1.112475904, -0.491676209)],
                knots=[0, 0, 0, 0, 1.184426356, 2.348067706, 3.509069118, 4.696110526, 5.333549288, 6.050745305, 6.844228056, 7.710549037, 8.667450064, 9.695053472, 10.805634456, 12, 12, 12, 12], degree=3))
            Line((-1.112475904, -0.491676209), (-1.642066583, -1.056883875))
            Line((-1.642066583, -1.056883875), (-0.657087282, -1.056883875))
            Line((-0.657087282, -1.056883875), (-0.657087282, -1.273977892))
            Line((-0.657087282, -1.273977892), (-2.095335146, -1.273977892))
            Line((-2.095335146, -1.273977892), (-1.274448394, -0.397969612))
            add(Edge.make_bspline(
                [(-1.274448394, -0.397969612), (-1.254462291, -0.377106351), (-1.216073077, -0.337032295), (-1.161775995, -0.278525838), (-1.113008607, -0.224248735), (-1.069455231, -0.174303537), (-1.032060683, -0.127959684), (-0.998876047, -0.086718125), (-0.972287333, -0.048766624), (-0.943430879, -0.004775872), (-0.915482424, 0.048934434), (-0.891465903, 0.114571475), (-0.876821686, 0.182139861), (-0.875064952, 0.227800617), (-0.8741813, 0.250768369)],
                knots=[0, 0, 0, 0, 1.329631726, 2.553950428, 3.673215718, 4.687767853, 5.603093632, 6.413772471, 7.123043292, 7.734684054, 8.834405432, 9.900288307, 10.943827018, 12, 12, 12, 12], degree=3))
            add(Edge.make_bspline(
                [(-0.8741813, 0.250768369), (-0.874565772, 0.265210929), (-0.875323494, 0.293674441), (-0.882010768, 0.335406495), (-0.892116646, 0.375662359), (-0.906597826, 0.414565857), (-0.925712378, 0.451725847), (-0.948979613, 0.487187561), (-0.975825032, 0.521470887), (-1.006880323, 0.553615977), (-1.040995862, 0.583056516), (-1.077036193, 0.60913632), (-1.115166495, 0.630931401), (-1.155225997, 0.648798183), (-1.197103019, 0.66281377), (-1.240878555, 0.672525387), (-1.286431651, 0.67862289), (-1.31753667, 0.679447889), (-1.333386027, 0.679868262)],
                knots=[0, 0, 0, 0, 0.991446411, 1.95395049, 2.89581595, 3.838931463, 4.798493298, 5.75982156, 6.748411868, 7.785213223, 8.824556874, 9.840280684, 10.836137867, 11.835679398, 12.848801643, 13.863922112, 14.911575587, 16, 16, 16, 16], degree=3))
            add(Edge.make_bspline(
                [(-1.333386027, 0.679868262), (-1.349938864, 0.679435837), (-1.382445903, 0.678586628), (-1.430173127, 0.672646255), (-1.475703098, 0.662398056), (-1.519150344, 0.648381686), (-1.560588379, 0.630566278), (-1.599815682, 0.608376509), (-1.636744191, 0.58189792), (-1.671443327, 0.551877202), (-1.703413447, 0.518453463), (-1.731502748, 0.481194104), (-1.756046414, 0.440779429), (-1.77746057, 0.397318487), (-1.794850915, 0.350416915), (-1.80813944, 0.300241208), (-1.818654342, 0.247009229), (-1.822167114, 0.210248726), (-1.823967624, 0.191406723)],
                knots=[0, 0, 0, 0, 1.031018746, 2.02475058, 2.990194455, 3.934040569, 4.864654155, 5.795059489, 6.735614925, 7.690564532, 8.649604399, 9.611025574, 10.590972636, 11.591080095, 12.624614302, 13.701020113, 14.821632451, 16, 16, 16, 16], degree=3))
        make_face()
    extrude(amount=-CUT_EXTRUDE5_DEPTH, mode=Mode.SUBTRACT)


solid = part.part
